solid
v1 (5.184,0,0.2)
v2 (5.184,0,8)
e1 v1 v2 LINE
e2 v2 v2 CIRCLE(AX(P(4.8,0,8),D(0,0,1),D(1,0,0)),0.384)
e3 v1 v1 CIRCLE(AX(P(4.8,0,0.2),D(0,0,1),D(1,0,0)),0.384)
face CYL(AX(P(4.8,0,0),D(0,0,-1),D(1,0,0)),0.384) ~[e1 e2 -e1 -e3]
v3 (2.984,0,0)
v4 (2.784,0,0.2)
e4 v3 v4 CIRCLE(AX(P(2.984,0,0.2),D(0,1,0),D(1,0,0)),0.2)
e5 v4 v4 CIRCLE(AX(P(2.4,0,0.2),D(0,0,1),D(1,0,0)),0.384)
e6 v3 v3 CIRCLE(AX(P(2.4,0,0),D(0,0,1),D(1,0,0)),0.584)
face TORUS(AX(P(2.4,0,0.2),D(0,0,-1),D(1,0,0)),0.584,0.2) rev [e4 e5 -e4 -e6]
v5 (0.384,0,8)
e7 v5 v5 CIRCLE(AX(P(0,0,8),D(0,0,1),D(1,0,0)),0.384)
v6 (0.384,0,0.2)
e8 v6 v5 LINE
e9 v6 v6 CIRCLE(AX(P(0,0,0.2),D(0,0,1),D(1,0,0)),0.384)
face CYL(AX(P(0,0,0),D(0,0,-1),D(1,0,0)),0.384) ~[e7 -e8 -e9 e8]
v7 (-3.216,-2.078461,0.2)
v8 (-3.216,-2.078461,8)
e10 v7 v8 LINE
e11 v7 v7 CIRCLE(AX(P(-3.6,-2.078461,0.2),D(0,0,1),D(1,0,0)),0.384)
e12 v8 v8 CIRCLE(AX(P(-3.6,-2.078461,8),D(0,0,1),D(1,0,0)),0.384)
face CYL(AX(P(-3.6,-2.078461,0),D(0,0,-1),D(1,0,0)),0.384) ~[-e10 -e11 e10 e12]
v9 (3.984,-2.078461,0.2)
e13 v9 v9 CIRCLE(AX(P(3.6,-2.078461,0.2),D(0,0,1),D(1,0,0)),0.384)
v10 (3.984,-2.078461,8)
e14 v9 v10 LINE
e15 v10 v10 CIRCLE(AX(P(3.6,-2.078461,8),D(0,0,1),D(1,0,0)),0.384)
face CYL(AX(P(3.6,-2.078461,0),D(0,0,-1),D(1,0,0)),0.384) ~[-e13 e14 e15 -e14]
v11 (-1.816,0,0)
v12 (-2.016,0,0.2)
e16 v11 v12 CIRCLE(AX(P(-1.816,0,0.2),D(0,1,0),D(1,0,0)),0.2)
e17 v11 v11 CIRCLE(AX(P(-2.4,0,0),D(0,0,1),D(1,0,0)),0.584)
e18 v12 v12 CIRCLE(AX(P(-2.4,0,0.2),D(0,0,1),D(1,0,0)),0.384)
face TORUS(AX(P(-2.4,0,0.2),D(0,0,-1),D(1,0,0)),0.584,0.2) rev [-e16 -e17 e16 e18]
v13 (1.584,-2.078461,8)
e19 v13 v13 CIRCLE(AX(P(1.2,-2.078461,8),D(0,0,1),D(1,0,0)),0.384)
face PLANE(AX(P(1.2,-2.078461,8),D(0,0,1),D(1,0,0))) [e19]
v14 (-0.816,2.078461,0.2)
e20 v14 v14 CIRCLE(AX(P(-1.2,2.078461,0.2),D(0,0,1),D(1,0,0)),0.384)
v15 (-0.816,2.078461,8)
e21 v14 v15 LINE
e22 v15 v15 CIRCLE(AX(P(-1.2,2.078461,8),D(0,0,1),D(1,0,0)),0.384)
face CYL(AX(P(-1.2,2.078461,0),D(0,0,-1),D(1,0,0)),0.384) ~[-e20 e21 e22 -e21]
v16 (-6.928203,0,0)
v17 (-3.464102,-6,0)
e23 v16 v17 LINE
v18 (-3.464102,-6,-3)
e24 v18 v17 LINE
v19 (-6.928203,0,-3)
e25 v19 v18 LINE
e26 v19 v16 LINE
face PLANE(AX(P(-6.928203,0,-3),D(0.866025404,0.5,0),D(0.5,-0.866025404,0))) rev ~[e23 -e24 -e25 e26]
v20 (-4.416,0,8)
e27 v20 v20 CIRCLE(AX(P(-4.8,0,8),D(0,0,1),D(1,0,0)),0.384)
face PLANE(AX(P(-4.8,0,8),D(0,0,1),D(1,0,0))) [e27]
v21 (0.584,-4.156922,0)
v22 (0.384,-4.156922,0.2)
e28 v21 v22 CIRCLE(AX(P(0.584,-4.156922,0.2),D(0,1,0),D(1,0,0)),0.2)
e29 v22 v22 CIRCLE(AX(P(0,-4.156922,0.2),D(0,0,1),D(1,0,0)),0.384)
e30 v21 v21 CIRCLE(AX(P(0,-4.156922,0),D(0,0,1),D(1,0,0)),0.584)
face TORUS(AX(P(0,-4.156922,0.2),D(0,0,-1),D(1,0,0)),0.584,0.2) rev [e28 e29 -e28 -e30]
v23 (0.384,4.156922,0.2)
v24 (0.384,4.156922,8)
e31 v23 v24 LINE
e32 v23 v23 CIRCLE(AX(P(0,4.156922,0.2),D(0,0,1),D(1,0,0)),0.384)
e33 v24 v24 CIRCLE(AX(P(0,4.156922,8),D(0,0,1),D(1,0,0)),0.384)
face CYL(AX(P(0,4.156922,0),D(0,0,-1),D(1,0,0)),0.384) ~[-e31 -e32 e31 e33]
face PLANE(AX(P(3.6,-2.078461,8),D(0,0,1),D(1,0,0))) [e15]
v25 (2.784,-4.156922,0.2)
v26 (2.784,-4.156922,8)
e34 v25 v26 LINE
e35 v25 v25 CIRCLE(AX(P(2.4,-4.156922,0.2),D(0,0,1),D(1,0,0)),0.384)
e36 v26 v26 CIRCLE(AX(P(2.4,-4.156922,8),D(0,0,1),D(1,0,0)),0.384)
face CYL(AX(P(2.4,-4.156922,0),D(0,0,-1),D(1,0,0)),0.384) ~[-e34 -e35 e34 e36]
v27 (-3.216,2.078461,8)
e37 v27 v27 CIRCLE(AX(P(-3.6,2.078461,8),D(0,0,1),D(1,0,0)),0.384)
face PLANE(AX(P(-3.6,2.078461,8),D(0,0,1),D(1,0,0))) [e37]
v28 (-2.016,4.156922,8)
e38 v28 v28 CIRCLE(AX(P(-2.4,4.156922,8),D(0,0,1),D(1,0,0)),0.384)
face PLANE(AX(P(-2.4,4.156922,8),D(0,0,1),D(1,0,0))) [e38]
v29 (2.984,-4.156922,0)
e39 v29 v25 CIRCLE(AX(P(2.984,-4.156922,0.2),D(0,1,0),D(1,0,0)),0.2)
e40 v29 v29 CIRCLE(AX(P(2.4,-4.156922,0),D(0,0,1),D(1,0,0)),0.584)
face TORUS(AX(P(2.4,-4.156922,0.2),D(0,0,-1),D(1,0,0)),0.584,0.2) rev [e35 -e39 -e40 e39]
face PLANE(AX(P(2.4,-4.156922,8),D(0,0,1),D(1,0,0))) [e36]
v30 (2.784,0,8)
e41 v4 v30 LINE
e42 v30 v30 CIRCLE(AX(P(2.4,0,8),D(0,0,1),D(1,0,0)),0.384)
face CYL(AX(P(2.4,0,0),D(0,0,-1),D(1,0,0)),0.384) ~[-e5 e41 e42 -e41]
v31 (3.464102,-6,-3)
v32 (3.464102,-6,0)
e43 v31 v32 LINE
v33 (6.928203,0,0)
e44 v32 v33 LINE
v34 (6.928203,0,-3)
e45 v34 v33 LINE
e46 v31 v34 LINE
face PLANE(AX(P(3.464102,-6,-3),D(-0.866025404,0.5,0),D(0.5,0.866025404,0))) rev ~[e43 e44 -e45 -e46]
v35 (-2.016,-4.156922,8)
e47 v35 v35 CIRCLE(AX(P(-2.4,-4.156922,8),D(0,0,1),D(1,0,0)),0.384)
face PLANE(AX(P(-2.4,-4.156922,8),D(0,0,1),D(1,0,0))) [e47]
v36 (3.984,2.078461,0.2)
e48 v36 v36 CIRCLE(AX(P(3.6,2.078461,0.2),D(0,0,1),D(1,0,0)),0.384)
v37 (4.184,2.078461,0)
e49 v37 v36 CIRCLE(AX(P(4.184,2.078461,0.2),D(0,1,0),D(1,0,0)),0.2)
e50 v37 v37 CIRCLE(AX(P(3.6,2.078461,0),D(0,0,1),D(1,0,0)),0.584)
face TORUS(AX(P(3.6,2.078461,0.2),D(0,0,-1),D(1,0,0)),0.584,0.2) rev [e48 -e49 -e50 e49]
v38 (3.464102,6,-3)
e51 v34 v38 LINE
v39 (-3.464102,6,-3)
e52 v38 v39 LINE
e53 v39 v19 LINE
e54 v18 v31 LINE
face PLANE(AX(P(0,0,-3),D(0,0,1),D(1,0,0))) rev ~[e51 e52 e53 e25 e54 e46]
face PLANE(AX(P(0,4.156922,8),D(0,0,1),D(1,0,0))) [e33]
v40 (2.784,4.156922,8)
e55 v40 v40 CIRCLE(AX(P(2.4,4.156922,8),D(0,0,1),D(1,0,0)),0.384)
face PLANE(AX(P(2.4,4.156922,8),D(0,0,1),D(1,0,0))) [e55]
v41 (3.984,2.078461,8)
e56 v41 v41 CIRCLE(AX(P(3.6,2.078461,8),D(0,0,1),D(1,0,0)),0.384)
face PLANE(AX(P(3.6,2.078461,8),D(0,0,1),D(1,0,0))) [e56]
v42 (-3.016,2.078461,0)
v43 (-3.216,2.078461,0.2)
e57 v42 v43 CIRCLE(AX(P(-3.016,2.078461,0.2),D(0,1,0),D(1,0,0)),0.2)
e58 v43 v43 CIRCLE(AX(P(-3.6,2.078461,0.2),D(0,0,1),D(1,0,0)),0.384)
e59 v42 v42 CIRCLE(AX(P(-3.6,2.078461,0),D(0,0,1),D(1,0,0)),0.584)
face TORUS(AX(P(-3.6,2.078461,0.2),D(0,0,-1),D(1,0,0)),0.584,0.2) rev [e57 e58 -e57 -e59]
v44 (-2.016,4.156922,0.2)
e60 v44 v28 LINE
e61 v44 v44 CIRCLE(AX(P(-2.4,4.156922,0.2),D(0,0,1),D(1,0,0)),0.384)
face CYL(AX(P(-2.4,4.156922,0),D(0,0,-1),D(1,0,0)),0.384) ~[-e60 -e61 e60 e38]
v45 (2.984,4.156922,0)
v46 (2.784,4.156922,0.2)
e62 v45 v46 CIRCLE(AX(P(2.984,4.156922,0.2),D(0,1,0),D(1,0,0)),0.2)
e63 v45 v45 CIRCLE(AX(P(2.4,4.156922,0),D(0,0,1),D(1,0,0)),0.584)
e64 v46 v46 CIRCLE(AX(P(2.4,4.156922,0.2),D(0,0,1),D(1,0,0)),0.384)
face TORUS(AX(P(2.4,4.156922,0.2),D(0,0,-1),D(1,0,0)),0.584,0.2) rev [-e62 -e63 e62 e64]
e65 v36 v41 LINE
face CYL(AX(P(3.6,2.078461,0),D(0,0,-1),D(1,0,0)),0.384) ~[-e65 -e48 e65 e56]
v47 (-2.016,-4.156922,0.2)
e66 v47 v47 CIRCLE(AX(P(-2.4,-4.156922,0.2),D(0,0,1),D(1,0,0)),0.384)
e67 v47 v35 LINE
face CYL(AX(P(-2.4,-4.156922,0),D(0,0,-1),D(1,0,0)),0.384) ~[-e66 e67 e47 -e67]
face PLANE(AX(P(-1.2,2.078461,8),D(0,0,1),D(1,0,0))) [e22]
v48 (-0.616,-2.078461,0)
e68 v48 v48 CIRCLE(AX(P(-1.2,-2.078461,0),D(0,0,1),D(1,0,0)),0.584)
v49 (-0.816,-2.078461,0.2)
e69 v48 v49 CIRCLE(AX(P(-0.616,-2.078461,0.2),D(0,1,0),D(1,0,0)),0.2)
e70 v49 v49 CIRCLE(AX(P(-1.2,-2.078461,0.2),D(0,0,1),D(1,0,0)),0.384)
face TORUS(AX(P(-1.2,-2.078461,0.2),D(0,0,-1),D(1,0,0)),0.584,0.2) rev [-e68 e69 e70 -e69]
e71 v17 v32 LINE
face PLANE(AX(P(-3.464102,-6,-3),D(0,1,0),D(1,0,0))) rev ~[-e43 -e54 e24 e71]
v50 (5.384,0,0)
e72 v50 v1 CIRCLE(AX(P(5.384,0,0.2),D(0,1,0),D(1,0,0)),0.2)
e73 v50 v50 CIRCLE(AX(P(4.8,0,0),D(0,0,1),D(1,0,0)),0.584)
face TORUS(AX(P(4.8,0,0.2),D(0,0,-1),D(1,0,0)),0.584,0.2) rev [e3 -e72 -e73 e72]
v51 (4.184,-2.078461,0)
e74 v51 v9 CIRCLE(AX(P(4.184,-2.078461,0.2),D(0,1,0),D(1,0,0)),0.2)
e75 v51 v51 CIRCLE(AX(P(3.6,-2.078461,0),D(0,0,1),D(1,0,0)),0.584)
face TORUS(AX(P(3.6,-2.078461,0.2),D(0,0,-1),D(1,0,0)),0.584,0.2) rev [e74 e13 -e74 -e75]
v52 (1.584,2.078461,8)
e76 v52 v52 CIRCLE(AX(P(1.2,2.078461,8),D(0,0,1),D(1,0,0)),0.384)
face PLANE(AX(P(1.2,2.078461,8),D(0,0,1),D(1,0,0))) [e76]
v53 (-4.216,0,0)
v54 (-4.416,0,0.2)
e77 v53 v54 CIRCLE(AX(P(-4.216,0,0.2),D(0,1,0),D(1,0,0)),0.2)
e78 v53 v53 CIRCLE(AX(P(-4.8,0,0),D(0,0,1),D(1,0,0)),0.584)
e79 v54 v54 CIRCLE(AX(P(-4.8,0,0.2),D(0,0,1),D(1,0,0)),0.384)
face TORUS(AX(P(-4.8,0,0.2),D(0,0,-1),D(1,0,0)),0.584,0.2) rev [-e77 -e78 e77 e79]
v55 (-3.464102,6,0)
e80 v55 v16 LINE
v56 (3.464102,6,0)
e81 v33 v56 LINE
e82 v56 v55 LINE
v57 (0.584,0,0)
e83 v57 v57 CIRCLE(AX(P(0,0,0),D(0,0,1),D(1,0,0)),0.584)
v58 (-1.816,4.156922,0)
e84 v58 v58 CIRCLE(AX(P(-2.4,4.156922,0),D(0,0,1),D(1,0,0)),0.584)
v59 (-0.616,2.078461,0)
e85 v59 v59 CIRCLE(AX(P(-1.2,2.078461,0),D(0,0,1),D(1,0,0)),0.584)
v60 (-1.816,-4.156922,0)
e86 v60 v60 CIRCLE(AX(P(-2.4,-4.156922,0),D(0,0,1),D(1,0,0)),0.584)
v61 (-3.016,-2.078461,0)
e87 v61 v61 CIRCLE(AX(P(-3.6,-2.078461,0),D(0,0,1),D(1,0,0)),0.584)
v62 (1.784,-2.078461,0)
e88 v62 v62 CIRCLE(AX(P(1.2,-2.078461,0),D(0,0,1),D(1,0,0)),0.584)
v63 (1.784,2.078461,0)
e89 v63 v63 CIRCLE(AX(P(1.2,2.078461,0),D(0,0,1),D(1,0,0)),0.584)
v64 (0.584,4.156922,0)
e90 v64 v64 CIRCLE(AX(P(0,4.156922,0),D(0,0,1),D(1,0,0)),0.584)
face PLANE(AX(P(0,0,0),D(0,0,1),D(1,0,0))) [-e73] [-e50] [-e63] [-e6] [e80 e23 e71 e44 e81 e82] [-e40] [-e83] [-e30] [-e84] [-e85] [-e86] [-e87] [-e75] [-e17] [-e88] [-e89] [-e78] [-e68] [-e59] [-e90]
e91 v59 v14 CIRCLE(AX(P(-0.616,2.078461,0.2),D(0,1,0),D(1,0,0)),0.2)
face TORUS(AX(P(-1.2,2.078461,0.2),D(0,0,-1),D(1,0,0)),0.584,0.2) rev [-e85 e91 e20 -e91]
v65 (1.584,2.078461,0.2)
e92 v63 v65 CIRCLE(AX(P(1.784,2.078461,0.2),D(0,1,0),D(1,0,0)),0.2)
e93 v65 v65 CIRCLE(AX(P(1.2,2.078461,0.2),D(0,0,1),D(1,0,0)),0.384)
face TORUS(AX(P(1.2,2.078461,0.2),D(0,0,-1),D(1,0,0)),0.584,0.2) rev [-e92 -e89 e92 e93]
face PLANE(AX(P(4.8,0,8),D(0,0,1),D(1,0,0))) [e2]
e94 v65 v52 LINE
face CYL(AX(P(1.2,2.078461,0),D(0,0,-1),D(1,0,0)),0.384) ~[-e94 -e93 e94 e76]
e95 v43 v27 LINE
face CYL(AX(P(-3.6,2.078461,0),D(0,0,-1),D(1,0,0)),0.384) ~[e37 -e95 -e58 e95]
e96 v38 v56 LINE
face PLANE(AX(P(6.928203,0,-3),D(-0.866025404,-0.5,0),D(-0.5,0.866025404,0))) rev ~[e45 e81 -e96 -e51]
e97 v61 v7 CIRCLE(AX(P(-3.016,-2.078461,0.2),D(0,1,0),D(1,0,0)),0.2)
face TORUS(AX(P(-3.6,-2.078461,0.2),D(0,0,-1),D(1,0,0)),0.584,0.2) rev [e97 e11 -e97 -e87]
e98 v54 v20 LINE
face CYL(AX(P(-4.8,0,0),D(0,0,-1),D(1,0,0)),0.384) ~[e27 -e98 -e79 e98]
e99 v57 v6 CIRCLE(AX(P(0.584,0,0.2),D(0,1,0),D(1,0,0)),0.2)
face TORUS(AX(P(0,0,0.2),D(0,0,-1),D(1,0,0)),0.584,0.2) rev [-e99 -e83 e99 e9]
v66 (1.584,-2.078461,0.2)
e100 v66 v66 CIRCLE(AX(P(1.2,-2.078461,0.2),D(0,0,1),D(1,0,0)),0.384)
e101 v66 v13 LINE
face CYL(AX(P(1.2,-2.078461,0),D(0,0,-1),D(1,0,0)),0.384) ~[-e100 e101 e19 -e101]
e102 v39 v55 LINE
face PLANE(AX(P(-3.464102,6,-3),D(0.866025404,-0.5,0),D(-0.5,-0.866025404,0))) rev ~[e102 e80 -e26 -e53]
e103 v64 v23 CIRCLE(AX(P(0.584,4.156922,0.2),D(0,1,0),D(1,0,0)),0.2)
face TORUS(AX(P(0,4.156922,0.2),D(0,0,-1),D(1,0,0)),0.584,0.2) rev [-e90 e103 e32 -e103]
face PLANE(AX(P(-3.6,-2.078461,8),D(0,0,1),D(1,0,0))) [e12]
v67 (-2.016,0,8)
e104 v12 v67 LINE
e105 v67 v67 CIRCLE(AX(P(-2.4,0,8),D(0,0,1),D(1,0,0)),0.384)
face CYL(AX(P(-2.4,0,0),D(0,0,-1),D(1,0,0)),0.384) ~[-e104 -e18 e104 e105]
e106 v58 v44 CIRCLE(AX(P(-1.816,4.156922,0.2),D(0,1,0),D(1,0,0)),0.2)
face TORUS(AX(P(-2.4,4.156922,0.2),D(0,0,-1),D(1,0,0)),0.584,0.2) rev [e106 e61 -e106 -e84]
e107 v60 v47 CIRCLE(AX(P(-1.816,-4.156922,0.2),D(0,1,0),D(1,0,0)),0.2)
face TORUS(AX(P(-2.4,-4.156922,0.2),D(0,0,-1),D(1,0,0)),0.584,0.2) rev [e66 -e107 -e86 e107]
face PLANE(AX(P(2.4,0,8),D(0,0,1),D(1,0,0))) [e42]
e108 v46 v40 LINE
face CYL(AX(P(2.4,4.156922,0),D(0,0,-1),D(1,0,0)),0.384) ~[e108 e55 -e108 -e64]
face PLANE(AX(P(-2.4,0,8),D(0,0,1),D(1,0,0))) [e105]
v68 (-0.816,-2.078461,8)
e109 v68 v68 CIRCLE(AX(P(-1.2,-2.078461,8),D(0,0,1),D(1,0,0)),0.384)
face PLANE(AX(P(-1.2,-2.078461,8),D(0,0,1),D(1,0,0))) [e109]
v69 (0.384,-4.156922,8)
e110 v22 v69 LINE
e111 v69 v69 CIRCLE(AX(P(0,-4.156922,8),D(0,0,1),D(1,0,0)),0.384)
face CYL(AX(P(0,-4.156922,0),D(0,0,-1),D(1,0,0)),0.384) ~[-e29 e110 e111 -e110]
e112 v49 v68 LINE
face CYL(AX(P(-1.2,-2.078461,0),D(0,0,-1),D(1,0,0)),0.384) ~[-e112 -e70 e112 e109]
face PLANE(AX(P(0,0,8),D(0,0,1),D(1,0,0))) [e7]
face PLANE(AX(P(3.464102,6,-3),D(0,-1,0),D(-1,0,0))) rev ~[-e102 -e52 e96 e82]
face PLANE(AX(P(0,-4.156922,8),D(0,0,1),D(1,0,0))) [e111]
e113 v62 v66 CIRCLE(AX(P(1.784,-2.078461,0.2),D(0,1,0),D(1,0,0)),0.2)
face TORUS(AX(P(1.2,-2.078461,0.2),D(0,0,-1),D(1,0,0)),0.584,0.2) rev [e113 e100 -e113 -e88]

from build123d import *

# Parameters (mm, degrees)
SKETCH1_R              = 0.384
BOSS_EXTRUDE1_DEPTH    = 8
BOSS_EXTRUDE1_2_DEPTH  = 8
BOSS_EXTRUDE1_3_DEPTH  = 8
BOSS_EXTRUDE1_4_DEPTH  = 8
BOSS_EXTRUDE1_5_DEPTH  = 8
BOSS_EXTRUDE1_6_DEPTH  = 8
BOSS_EXTRUDE1_7_DEPTH  = 8
BOSS_EXTRUDE1_8_DEPTH  = 8
BOSS_EXTRUDE1_9_DEPTH  = 8
BOSS_EXTRUDE1_10_DEPTH = 8
BOSS_EXTRUDE1_11_DEPTH = 8
BOSS_EXTRUDE1_12_DEPTH = 8
BOSS_EXTRUDE1_13_DEPTH = 8
BOSS_EXTRUDE1_14_DEPTH = 8
BOSS_EXTRUDE1_15_DEPTH = 8
BOSS_EXTRUDE1_16_DEPTH = 8
BOSS_EXTRUDE1_17_DEPTH = 8
BOSS_EXTRUDE1_18_DEPTH = 8
BOSS_EXTRUDE1_19_DEPTH = 8
BOSS_EXTRUDE2_START    = -3
SKETCH1_3_R            = 0.384
BOSS_EXTRUDE2_DEPTH    = 3
FILLET1_R              = 0.2


with BuildPart() as part:
    # Sketch1 → Boss-Extrude1 (new body)
    with BuildSketch(Plane.XY):
        with Locations((4.8, 0)):
            Circle(SKETCH1_R)
    extrude(amount=BOSS_EXTRUDE1_DEPTH)



with BuildPart() as body_2:
    # Sketch1 → Boss-Extrude1 2 (new body)
    with BuildSketch(Plane.XY):
        with Locations((3.6, 2.078460969)):
            Circle(SKETCH1_R)
    extrude(amount=BOSS_EXTRUDE1_2_DEPTH)


with BuildPart() as body_3:
    # Sketch1 → Boss-Extrude1 3 (new body)
    with BuildSketch(Plane.XY):
        with Locations((2.4, 4.156921938)):
            Circle(SKETCH1_R)
    extrude(amount=BOSS_EXTRUDE1_3_DEPTH)


with BuildPart() as body_4:
    # Sketch1 → Boss-Extrude1 4 (new body)
    with BuildSketch(Plane.XY):
        with Locations((0, 4.156921938)):
            Circle(SKETCH1_R)
    extrude(amount=BOSS_EXTRUDE1_4_DEPTH)


with BuildPart() as body_5:
    # Sketch1 → Boss-Extrude1 5 (new body)
    with BuildSketch(Plane.XY):
        with Locations((-2.4, 4.156921938)):
            Circle(SKETCH1_R)
    extrude(amount=BOSS_EXTRUDE1_5_DEPTH)


with BuildPart() as body_6:
    # Sketch1 → Boss-Extrude1 6 (new body)
    with BuildSketch(Plane.XY):
        with Locations((-3.6, 2.078460969)):
            Circle(SKETCH1_R)
    extrude(amount=BOSS_EXTRUDE1_6_DEPTH)


with BuildPart() as body_7:
    # Sketch1 → Boss-Extrude1 7 (new body)
    with BuildSketch(Plane.XY):
        with Locations((-1.2, 2.078460969)):
            Circle(SKETCH1_R)
    extrude(amount=BOSS_EXTRUDE1_7_DEPTH)


with BuildPart() as body_8:
    # Sketch1 → Boss-Extrude1 8 (new body)
    with BuildSketch(Plane.XY):
        with Locations((1.2, 2.078460969)):
            Circle(SKETCH1_R)
    extrude(amount=BOSS_EXTRUDE1_8_DEPTH)


with BuildPart() as body_9:
    # Sketch1 → Boss-Extrude1 9 (new body)
    with BuildSketch(Plane.XY):
        with Locations((2.4, 0)):
            Circle(SKETCH1_R)
    extrude(amount=BOSS_EXTRUDE1_9_DEPTH)


with BuildPart() as body_10:
    # Sketch1 → Boss-Extrude1 10 (new body)
    with BuildSketch(Plane.XY):
        with Locations((3.6, -2.078460969)):
            Circle(SKETCH1_R)
    extrude(amount=BOSS_EXTRUDE1_10_DEPTH)


with BuildPart() as body_11:
    # Sketch1 → Boss-Extrude1 11 (new body)
    with BuildSketch(Plane.XY):
        with Locations((1.2, -2.078460969)):
            Circle(SKETCH1_R)
    extrude(amount=BOSS_EXTRUDE1_11_DEPTH)


with BuildPart() as body_12:
    # Sketch1 → Boss-Extrude1 12 (new body)
    with BuildSketch(Plane.XY):
        Circle(SKETCH1_R)
    extrude(amount=BOSS_EXTRUDE1_12_DEPTH)


with BuildPart() as body_13:
    # Sketch1 → Boss-Extrude1 13 (new body)
    with BuildSketch(Plane.XY):
        with Locations((-2.4, 0)):
            Circle(SKETCH1_R)
    extrude(amount=BOSS_EXTRUDE1_13_DEPTH)


with BuildPart() as body_14:
    # Sketch1 → Boss-Extrude1 14 (new body)
    with BuildSketch(Plane.XY):
        with Locations((-4.8, 0)):
            Circle(SKETCH1_R)
    extrude(amount=BOSS_EXTRUDE1_14_DEPTH)


with BuildPart() as body_15:
    # Sketch1 → Boss-Extrude1 15 (new body)
    with BuildSketch(Plane.XY):
        with Locations((-3.6, -2.078460969)):
            Circle(SKETCH1_R)
    extrude(amount=BOSS_EXTRUDE1_15_DEPTH)


with BuildPart() as body_16:
    # Sketch1 → Boss-Extrude1 16 (new body)
    with BuildSketch(Plane.XY):
        with Locations((-1.2, -2.078460969)):
            Circle(SKETCH1_R)
    extrude(amount=BOSS_EXTRUDE1_16_DEPTH)


with BuildPart() as body_17:
    # Sketch1 → Boss-Extrude1 17 (new body)
    with BuildSketch(Plane.XY):
        with Locations((2.4, -4.156921938)):
            Circle(SKETCH1_R)
    extrude(amount=BOSS_EXTRUDE1_17_DEPTH)


with BuildPart() as body_18:
    # Sketch1 → Boss-Extrude1 18 (new body)
    with BuildSketch(Plane.XY):
        with Locations((0, -4.156921938)):
            Circle(SKETCH1_R)
    extrude(amount=BOSS_EXTRUDE1_18_DEPTH)


with BuildPart() as body_19:
    # Sketch1 → Boss-Extrude1 19 (new body)
    with BuildSketch(Plane.XY):
        with Locations((-2.4, -4.156921938)):
            Circle(SKETCH1_R)
    extrude(amount=BOSS_EXTRUDE1_19_DEPTH)


with BuildPart() as part_1:
    add(part.part)

    add(body_2.part)  # Boss-Extrude2 merges body 2

    add(body_3.part)  # Boss-Extrude2 merges body 3

    add(body_4.part)  # Boss-Extrude2 merges body 4

    add(body_5.part)  # Boss-Extrude2 merges body 5

    add(body_6.part)  # Boss-Extrude2 merges body 6

    add(body_7.part)  # Boss-Extrude2 merges body 7

    add(body_8.part)  # Boss-Extrude2 merges body 8

    add(body_9.part)  # Boss-Extrude2 merges body 9

    add(body_10.part)  # Boss-Extrude2 merges body 10

    add(body_11.part)  # Boss-Extrude2 merges body 11

    add(body_12.part)  # Boss-Extrude2 merges body 12

    add(body_13.part)  # Boss-Extrude2 merges body 13

    add(body_14.part)  # Boss-Extrude2 merges body 14

    add(body_15.part)  # Boss-Extrude2 merges body 15

    add(body_16.part)  # Boss-Extrude2 merges body 16

    add(body_17.part)  # Boss-Extrude2 merges body 17

    add(body_18.part)  # Boss-Extrude2 merges body 18

    add(body_19.part)  # Boss-Extrude2 merges body 19
    # Sketch1<3> → Boss-Extrude2 (add)
    # profile 1 of 20: a face of its own
    with BuildSketch(Plane.XY.offset(BOSS_EXTRUDE2_START)):
        Polygon((-3.464101615, -6), (3.464101615, -6), (6.92820323, 0), (3.464101615, 6), (-3.464101615, 6), (-6.92820323, 0), align=None)
        with Locations((2.4, -4.156921938)):
            Circle(SKETCH1_3_R, mode=Mode.SUBTRACT)
        with Locations((0, -4.156921938)):
            Circle(SKETCH1_3_R, mode=Mode.SUBTRACT)
        with Locations((-2.4, -4.156921938)):
            Circle(SKETCH1_3_R, mode=Mode.SUBTRACT)
        with Locations((-3.6, -2.078460969)):
            Circle(SKETCH1_3_R, mode=Mode.SUBTRACT)
        with Locations((3.6, -2.078460969)):
            Circle(SKETCH1_3_R, mode=Mode.SUBTRACT)
        with Locations((1.2, -2.078460969)):
            Circle(SKETCH1_3_R, mode=Mode.SUBTRACT)
        with Locations((-1.2, -2.078460969)):
            Circle(SKETCH1_3_R, mode=Mode.SUBTRACT)
        with Locations((-2.4, 4.156921938)):
            Circle(SKETCH1_3_R, mode=Mode.SUBTRACT)
        with Locations((0, 4.156921938)):
            Circle(SKETCH1_3_R, mode=Mode.SUBTRACT)
        with Locations((2.4, 4.156921938)):
            Circle(SKETCH1_3_R, mode=Mode.SUBTRACT)
        with Locations((-3.6, 2.078460969)):
            Circle(SKETCH1_3_R, mode=Mode.SUBTRACT)
        with Locations((-1.2, 2.078460969)):
            Circle(SKETCH1_3_R, mode=Mode.SUBTRACT)
        with Locations((3.6, 2.078460969)):
            Circle(SKETCH1_3_R, mode=Mode.SUBTRACT)
        with Locations((1.2, 2.078460969)):
            Circle(SKETCH1_3_R, mode=Mode.SUBTRACT)
        with Locations((-4.8, 0)):
            Circle(SKETCH1_3_R, mode=Mode.SUBTRACT)
        with Locations((-2.4, 0)):
            Circle(SKETCH1_3_R, mode=Mode.SUBTRACT)
        with Locations((4.8, 0)):
            Circle(SKETCH1_3_R, mode=Mode.SUBTRACT)
        with Locations((2.4, 0)):
            Circle(SKETCH1_3_R, mode=Mode.SUBTRACT)
        Circle(SKETCH1_3_R, mode=Mode.SUBTRACT)
    # profile 2 of 20: a face of its own
    with BuildSketch(Plane.XY.offset(BOSS_EXTRUDE2_START)):
        with Locations((3.6, -2.078460969)):
            Circle(SKETCH1_3_R)
    # profile 3 of 20: a face of its own
    with BuildSketch(Plane.XY.offset(BOSS_EXTRUDE2_START)):
        with Locations((4.8, 0)):
            Circle(SKETCH1_3_R)
    # profile 4 of 20: a face of its own
    with BuildSketch(Plane.XY.offset(BOSS_EXTRUDE2_START)):
        with Locations((3.6, 2.078460969)):
            Circle(SKETCH1_3_R)
    # profile 5 of 20: a face of its own
    with BuildSketch(Plane.XY.offset(BOSS_EXTRUDE2_START)):
        with Locations((2.4, 4.156921938)):
            Circle(SKETCH1_3_R)
    # profile 6 of 20: a face of its own
    with BuildSketch(Plane.XY.offset(BOSS_EXTRUDE2_START)):
        with Locations((0, 4.156921938)):
            Circle(SKETCH1_3_R)
    # profile 7 of 20: a face of its own
    with BuildSketch(Plane.XY.offset(BOSS_EXTRUDE2_START)):
        with Locations((2.4, 0)):
            Circle(SKETCH1_3_R)
    # profile 8 of 20: a face of its own
    with BuildSketch(Plane.XY.offset(BOSS_EXTRUDE2_START)):
        with Locations((1.2, 2.078460969)):
            Circle(SKETCH1_3_R)
    # profile 9 of 20: a face of its own
    with BuildSketch(Plane.XY.offset(BOSS_EXTRUDE2_START)):
        with Locations((2.4, -4.156921938)):
            Circle(SKETCH1_3_R)
    # profile 10 of 20: a face of its own
    with BuildSketch(Plane.XY.offset(BOSS_EXTRUDE2_START)):
        with Locations((1.2, -2.078460969)):
            Circle(SKETCH1_3_R)
    # profile 11 of 20: a face of its own
    with BuildSketch(Plane.XY.offset(BOSS_EXTRUDE2_START)):
        Circle(SKETCH1_3_R)
    # profile 12 of 20: a face of its own
    with BuildSketch(Plane.XY.offset(BOSS_EXTRUDE2_START)):
        with Locations((-1.2, 2.078460969)):
            Circle(SKETCH1_3_R)
    # profile 13 of 20: a face of its own
    with BuildSketch(Plane.XY.offset(BOSS_EXTRUDE2_START)):
        with Locations((-2.4, 4.156921938)):
            Circle(SKETCH1_3_R)
    # profile 14 of 20: a face of its own
    with BuildSketch(Plane.XY.offset(BOSS_EXTRUDE2_START)):
        with Locations((-3.6, 2.078460969)):
            Circle(SKETCH1_3_R)
    # profile 15 of 20: a face of its own
    with BuildSketch(Plane.XY.offset(BOSS_EXTRUDE2_START)):
        with Locations((-2.4, 0)):
            Circle(SKETCH1_3_R)
    # profile 16 of 20: a face of its own
    with BuildSketch(Plane.XY.offset(BOSS_EXTRUDE2_START)):
        with Locations((-1.2, -2.078460969)):
            Circle(SKETCH1_3_R)
    # profile 17 of 20: a face of its own
    with BuildSketch(Plane.XY.offset(BOSS_EXTRUDE2_START)):
        with Locations((0, -4.156921938)):
            Circle(SKETCH1_3_R)
    # profile 18 of 20: a face of its own
    with BuildSketch(Plane.XY.offset(BOSS_EXTRUDE2_START)):
        with Locations((-2.4, -4.156921938)):
            Circle(SKETCH1_3_R)
    # profile 19 of 20: a face of its own
    with BuildSketch(Plane.XY.offset(BOSS_EXTRUDE2_START)):
        with Locations((-3.6, -2.078460969)):
            Circle(SKETCH1_3_R)
    # profile 20 of 20: a face of its own
    with BuildSketch(Plane.XY.offset(BOSS_EXTRUDE2_START)):
        with Locations((-4.8, 0)):
            Circle(SKETCH1_3_R)
    extrude(amount=BOSS_EXTRUDE2_DEPTH)

    # Fillet1
    fillet1_edges = [part_1.edges().sort_by_distance(p)[0] for p in [
        (3.216, 2.078460969, 0),
        (2.016, 4.156921938, 0),
        (-0.384, 4.156921938, 0),
        (-2.784, 4.156921938, 0),
        (-3.984, 2.078460969, 0),
        (-1.584, 2.078460969, 0),
        (0.816, 2.078460969, 0),
        (2.016, 0, 0),
        (3.216, -2.078460969, 0),
        (0.816, -2.078460969, 0),
        (-0.384, 0, 0),
        (-2.784, 0, 0),
        (-5.184, 0, 0),
        (-3.984, -2.078460969, 0),
        (4.416, 0, 0),
        (-1.584, -2.078460969, 0),
        (2.016, -4.156921938, 0),
        (-0.384, -4.156921938, 0),
        (-2.784, -4.156921938, 0),
    ]]
    fillet(fillet1_edges, radius=FILLET1_R)


solid = part_1.part
